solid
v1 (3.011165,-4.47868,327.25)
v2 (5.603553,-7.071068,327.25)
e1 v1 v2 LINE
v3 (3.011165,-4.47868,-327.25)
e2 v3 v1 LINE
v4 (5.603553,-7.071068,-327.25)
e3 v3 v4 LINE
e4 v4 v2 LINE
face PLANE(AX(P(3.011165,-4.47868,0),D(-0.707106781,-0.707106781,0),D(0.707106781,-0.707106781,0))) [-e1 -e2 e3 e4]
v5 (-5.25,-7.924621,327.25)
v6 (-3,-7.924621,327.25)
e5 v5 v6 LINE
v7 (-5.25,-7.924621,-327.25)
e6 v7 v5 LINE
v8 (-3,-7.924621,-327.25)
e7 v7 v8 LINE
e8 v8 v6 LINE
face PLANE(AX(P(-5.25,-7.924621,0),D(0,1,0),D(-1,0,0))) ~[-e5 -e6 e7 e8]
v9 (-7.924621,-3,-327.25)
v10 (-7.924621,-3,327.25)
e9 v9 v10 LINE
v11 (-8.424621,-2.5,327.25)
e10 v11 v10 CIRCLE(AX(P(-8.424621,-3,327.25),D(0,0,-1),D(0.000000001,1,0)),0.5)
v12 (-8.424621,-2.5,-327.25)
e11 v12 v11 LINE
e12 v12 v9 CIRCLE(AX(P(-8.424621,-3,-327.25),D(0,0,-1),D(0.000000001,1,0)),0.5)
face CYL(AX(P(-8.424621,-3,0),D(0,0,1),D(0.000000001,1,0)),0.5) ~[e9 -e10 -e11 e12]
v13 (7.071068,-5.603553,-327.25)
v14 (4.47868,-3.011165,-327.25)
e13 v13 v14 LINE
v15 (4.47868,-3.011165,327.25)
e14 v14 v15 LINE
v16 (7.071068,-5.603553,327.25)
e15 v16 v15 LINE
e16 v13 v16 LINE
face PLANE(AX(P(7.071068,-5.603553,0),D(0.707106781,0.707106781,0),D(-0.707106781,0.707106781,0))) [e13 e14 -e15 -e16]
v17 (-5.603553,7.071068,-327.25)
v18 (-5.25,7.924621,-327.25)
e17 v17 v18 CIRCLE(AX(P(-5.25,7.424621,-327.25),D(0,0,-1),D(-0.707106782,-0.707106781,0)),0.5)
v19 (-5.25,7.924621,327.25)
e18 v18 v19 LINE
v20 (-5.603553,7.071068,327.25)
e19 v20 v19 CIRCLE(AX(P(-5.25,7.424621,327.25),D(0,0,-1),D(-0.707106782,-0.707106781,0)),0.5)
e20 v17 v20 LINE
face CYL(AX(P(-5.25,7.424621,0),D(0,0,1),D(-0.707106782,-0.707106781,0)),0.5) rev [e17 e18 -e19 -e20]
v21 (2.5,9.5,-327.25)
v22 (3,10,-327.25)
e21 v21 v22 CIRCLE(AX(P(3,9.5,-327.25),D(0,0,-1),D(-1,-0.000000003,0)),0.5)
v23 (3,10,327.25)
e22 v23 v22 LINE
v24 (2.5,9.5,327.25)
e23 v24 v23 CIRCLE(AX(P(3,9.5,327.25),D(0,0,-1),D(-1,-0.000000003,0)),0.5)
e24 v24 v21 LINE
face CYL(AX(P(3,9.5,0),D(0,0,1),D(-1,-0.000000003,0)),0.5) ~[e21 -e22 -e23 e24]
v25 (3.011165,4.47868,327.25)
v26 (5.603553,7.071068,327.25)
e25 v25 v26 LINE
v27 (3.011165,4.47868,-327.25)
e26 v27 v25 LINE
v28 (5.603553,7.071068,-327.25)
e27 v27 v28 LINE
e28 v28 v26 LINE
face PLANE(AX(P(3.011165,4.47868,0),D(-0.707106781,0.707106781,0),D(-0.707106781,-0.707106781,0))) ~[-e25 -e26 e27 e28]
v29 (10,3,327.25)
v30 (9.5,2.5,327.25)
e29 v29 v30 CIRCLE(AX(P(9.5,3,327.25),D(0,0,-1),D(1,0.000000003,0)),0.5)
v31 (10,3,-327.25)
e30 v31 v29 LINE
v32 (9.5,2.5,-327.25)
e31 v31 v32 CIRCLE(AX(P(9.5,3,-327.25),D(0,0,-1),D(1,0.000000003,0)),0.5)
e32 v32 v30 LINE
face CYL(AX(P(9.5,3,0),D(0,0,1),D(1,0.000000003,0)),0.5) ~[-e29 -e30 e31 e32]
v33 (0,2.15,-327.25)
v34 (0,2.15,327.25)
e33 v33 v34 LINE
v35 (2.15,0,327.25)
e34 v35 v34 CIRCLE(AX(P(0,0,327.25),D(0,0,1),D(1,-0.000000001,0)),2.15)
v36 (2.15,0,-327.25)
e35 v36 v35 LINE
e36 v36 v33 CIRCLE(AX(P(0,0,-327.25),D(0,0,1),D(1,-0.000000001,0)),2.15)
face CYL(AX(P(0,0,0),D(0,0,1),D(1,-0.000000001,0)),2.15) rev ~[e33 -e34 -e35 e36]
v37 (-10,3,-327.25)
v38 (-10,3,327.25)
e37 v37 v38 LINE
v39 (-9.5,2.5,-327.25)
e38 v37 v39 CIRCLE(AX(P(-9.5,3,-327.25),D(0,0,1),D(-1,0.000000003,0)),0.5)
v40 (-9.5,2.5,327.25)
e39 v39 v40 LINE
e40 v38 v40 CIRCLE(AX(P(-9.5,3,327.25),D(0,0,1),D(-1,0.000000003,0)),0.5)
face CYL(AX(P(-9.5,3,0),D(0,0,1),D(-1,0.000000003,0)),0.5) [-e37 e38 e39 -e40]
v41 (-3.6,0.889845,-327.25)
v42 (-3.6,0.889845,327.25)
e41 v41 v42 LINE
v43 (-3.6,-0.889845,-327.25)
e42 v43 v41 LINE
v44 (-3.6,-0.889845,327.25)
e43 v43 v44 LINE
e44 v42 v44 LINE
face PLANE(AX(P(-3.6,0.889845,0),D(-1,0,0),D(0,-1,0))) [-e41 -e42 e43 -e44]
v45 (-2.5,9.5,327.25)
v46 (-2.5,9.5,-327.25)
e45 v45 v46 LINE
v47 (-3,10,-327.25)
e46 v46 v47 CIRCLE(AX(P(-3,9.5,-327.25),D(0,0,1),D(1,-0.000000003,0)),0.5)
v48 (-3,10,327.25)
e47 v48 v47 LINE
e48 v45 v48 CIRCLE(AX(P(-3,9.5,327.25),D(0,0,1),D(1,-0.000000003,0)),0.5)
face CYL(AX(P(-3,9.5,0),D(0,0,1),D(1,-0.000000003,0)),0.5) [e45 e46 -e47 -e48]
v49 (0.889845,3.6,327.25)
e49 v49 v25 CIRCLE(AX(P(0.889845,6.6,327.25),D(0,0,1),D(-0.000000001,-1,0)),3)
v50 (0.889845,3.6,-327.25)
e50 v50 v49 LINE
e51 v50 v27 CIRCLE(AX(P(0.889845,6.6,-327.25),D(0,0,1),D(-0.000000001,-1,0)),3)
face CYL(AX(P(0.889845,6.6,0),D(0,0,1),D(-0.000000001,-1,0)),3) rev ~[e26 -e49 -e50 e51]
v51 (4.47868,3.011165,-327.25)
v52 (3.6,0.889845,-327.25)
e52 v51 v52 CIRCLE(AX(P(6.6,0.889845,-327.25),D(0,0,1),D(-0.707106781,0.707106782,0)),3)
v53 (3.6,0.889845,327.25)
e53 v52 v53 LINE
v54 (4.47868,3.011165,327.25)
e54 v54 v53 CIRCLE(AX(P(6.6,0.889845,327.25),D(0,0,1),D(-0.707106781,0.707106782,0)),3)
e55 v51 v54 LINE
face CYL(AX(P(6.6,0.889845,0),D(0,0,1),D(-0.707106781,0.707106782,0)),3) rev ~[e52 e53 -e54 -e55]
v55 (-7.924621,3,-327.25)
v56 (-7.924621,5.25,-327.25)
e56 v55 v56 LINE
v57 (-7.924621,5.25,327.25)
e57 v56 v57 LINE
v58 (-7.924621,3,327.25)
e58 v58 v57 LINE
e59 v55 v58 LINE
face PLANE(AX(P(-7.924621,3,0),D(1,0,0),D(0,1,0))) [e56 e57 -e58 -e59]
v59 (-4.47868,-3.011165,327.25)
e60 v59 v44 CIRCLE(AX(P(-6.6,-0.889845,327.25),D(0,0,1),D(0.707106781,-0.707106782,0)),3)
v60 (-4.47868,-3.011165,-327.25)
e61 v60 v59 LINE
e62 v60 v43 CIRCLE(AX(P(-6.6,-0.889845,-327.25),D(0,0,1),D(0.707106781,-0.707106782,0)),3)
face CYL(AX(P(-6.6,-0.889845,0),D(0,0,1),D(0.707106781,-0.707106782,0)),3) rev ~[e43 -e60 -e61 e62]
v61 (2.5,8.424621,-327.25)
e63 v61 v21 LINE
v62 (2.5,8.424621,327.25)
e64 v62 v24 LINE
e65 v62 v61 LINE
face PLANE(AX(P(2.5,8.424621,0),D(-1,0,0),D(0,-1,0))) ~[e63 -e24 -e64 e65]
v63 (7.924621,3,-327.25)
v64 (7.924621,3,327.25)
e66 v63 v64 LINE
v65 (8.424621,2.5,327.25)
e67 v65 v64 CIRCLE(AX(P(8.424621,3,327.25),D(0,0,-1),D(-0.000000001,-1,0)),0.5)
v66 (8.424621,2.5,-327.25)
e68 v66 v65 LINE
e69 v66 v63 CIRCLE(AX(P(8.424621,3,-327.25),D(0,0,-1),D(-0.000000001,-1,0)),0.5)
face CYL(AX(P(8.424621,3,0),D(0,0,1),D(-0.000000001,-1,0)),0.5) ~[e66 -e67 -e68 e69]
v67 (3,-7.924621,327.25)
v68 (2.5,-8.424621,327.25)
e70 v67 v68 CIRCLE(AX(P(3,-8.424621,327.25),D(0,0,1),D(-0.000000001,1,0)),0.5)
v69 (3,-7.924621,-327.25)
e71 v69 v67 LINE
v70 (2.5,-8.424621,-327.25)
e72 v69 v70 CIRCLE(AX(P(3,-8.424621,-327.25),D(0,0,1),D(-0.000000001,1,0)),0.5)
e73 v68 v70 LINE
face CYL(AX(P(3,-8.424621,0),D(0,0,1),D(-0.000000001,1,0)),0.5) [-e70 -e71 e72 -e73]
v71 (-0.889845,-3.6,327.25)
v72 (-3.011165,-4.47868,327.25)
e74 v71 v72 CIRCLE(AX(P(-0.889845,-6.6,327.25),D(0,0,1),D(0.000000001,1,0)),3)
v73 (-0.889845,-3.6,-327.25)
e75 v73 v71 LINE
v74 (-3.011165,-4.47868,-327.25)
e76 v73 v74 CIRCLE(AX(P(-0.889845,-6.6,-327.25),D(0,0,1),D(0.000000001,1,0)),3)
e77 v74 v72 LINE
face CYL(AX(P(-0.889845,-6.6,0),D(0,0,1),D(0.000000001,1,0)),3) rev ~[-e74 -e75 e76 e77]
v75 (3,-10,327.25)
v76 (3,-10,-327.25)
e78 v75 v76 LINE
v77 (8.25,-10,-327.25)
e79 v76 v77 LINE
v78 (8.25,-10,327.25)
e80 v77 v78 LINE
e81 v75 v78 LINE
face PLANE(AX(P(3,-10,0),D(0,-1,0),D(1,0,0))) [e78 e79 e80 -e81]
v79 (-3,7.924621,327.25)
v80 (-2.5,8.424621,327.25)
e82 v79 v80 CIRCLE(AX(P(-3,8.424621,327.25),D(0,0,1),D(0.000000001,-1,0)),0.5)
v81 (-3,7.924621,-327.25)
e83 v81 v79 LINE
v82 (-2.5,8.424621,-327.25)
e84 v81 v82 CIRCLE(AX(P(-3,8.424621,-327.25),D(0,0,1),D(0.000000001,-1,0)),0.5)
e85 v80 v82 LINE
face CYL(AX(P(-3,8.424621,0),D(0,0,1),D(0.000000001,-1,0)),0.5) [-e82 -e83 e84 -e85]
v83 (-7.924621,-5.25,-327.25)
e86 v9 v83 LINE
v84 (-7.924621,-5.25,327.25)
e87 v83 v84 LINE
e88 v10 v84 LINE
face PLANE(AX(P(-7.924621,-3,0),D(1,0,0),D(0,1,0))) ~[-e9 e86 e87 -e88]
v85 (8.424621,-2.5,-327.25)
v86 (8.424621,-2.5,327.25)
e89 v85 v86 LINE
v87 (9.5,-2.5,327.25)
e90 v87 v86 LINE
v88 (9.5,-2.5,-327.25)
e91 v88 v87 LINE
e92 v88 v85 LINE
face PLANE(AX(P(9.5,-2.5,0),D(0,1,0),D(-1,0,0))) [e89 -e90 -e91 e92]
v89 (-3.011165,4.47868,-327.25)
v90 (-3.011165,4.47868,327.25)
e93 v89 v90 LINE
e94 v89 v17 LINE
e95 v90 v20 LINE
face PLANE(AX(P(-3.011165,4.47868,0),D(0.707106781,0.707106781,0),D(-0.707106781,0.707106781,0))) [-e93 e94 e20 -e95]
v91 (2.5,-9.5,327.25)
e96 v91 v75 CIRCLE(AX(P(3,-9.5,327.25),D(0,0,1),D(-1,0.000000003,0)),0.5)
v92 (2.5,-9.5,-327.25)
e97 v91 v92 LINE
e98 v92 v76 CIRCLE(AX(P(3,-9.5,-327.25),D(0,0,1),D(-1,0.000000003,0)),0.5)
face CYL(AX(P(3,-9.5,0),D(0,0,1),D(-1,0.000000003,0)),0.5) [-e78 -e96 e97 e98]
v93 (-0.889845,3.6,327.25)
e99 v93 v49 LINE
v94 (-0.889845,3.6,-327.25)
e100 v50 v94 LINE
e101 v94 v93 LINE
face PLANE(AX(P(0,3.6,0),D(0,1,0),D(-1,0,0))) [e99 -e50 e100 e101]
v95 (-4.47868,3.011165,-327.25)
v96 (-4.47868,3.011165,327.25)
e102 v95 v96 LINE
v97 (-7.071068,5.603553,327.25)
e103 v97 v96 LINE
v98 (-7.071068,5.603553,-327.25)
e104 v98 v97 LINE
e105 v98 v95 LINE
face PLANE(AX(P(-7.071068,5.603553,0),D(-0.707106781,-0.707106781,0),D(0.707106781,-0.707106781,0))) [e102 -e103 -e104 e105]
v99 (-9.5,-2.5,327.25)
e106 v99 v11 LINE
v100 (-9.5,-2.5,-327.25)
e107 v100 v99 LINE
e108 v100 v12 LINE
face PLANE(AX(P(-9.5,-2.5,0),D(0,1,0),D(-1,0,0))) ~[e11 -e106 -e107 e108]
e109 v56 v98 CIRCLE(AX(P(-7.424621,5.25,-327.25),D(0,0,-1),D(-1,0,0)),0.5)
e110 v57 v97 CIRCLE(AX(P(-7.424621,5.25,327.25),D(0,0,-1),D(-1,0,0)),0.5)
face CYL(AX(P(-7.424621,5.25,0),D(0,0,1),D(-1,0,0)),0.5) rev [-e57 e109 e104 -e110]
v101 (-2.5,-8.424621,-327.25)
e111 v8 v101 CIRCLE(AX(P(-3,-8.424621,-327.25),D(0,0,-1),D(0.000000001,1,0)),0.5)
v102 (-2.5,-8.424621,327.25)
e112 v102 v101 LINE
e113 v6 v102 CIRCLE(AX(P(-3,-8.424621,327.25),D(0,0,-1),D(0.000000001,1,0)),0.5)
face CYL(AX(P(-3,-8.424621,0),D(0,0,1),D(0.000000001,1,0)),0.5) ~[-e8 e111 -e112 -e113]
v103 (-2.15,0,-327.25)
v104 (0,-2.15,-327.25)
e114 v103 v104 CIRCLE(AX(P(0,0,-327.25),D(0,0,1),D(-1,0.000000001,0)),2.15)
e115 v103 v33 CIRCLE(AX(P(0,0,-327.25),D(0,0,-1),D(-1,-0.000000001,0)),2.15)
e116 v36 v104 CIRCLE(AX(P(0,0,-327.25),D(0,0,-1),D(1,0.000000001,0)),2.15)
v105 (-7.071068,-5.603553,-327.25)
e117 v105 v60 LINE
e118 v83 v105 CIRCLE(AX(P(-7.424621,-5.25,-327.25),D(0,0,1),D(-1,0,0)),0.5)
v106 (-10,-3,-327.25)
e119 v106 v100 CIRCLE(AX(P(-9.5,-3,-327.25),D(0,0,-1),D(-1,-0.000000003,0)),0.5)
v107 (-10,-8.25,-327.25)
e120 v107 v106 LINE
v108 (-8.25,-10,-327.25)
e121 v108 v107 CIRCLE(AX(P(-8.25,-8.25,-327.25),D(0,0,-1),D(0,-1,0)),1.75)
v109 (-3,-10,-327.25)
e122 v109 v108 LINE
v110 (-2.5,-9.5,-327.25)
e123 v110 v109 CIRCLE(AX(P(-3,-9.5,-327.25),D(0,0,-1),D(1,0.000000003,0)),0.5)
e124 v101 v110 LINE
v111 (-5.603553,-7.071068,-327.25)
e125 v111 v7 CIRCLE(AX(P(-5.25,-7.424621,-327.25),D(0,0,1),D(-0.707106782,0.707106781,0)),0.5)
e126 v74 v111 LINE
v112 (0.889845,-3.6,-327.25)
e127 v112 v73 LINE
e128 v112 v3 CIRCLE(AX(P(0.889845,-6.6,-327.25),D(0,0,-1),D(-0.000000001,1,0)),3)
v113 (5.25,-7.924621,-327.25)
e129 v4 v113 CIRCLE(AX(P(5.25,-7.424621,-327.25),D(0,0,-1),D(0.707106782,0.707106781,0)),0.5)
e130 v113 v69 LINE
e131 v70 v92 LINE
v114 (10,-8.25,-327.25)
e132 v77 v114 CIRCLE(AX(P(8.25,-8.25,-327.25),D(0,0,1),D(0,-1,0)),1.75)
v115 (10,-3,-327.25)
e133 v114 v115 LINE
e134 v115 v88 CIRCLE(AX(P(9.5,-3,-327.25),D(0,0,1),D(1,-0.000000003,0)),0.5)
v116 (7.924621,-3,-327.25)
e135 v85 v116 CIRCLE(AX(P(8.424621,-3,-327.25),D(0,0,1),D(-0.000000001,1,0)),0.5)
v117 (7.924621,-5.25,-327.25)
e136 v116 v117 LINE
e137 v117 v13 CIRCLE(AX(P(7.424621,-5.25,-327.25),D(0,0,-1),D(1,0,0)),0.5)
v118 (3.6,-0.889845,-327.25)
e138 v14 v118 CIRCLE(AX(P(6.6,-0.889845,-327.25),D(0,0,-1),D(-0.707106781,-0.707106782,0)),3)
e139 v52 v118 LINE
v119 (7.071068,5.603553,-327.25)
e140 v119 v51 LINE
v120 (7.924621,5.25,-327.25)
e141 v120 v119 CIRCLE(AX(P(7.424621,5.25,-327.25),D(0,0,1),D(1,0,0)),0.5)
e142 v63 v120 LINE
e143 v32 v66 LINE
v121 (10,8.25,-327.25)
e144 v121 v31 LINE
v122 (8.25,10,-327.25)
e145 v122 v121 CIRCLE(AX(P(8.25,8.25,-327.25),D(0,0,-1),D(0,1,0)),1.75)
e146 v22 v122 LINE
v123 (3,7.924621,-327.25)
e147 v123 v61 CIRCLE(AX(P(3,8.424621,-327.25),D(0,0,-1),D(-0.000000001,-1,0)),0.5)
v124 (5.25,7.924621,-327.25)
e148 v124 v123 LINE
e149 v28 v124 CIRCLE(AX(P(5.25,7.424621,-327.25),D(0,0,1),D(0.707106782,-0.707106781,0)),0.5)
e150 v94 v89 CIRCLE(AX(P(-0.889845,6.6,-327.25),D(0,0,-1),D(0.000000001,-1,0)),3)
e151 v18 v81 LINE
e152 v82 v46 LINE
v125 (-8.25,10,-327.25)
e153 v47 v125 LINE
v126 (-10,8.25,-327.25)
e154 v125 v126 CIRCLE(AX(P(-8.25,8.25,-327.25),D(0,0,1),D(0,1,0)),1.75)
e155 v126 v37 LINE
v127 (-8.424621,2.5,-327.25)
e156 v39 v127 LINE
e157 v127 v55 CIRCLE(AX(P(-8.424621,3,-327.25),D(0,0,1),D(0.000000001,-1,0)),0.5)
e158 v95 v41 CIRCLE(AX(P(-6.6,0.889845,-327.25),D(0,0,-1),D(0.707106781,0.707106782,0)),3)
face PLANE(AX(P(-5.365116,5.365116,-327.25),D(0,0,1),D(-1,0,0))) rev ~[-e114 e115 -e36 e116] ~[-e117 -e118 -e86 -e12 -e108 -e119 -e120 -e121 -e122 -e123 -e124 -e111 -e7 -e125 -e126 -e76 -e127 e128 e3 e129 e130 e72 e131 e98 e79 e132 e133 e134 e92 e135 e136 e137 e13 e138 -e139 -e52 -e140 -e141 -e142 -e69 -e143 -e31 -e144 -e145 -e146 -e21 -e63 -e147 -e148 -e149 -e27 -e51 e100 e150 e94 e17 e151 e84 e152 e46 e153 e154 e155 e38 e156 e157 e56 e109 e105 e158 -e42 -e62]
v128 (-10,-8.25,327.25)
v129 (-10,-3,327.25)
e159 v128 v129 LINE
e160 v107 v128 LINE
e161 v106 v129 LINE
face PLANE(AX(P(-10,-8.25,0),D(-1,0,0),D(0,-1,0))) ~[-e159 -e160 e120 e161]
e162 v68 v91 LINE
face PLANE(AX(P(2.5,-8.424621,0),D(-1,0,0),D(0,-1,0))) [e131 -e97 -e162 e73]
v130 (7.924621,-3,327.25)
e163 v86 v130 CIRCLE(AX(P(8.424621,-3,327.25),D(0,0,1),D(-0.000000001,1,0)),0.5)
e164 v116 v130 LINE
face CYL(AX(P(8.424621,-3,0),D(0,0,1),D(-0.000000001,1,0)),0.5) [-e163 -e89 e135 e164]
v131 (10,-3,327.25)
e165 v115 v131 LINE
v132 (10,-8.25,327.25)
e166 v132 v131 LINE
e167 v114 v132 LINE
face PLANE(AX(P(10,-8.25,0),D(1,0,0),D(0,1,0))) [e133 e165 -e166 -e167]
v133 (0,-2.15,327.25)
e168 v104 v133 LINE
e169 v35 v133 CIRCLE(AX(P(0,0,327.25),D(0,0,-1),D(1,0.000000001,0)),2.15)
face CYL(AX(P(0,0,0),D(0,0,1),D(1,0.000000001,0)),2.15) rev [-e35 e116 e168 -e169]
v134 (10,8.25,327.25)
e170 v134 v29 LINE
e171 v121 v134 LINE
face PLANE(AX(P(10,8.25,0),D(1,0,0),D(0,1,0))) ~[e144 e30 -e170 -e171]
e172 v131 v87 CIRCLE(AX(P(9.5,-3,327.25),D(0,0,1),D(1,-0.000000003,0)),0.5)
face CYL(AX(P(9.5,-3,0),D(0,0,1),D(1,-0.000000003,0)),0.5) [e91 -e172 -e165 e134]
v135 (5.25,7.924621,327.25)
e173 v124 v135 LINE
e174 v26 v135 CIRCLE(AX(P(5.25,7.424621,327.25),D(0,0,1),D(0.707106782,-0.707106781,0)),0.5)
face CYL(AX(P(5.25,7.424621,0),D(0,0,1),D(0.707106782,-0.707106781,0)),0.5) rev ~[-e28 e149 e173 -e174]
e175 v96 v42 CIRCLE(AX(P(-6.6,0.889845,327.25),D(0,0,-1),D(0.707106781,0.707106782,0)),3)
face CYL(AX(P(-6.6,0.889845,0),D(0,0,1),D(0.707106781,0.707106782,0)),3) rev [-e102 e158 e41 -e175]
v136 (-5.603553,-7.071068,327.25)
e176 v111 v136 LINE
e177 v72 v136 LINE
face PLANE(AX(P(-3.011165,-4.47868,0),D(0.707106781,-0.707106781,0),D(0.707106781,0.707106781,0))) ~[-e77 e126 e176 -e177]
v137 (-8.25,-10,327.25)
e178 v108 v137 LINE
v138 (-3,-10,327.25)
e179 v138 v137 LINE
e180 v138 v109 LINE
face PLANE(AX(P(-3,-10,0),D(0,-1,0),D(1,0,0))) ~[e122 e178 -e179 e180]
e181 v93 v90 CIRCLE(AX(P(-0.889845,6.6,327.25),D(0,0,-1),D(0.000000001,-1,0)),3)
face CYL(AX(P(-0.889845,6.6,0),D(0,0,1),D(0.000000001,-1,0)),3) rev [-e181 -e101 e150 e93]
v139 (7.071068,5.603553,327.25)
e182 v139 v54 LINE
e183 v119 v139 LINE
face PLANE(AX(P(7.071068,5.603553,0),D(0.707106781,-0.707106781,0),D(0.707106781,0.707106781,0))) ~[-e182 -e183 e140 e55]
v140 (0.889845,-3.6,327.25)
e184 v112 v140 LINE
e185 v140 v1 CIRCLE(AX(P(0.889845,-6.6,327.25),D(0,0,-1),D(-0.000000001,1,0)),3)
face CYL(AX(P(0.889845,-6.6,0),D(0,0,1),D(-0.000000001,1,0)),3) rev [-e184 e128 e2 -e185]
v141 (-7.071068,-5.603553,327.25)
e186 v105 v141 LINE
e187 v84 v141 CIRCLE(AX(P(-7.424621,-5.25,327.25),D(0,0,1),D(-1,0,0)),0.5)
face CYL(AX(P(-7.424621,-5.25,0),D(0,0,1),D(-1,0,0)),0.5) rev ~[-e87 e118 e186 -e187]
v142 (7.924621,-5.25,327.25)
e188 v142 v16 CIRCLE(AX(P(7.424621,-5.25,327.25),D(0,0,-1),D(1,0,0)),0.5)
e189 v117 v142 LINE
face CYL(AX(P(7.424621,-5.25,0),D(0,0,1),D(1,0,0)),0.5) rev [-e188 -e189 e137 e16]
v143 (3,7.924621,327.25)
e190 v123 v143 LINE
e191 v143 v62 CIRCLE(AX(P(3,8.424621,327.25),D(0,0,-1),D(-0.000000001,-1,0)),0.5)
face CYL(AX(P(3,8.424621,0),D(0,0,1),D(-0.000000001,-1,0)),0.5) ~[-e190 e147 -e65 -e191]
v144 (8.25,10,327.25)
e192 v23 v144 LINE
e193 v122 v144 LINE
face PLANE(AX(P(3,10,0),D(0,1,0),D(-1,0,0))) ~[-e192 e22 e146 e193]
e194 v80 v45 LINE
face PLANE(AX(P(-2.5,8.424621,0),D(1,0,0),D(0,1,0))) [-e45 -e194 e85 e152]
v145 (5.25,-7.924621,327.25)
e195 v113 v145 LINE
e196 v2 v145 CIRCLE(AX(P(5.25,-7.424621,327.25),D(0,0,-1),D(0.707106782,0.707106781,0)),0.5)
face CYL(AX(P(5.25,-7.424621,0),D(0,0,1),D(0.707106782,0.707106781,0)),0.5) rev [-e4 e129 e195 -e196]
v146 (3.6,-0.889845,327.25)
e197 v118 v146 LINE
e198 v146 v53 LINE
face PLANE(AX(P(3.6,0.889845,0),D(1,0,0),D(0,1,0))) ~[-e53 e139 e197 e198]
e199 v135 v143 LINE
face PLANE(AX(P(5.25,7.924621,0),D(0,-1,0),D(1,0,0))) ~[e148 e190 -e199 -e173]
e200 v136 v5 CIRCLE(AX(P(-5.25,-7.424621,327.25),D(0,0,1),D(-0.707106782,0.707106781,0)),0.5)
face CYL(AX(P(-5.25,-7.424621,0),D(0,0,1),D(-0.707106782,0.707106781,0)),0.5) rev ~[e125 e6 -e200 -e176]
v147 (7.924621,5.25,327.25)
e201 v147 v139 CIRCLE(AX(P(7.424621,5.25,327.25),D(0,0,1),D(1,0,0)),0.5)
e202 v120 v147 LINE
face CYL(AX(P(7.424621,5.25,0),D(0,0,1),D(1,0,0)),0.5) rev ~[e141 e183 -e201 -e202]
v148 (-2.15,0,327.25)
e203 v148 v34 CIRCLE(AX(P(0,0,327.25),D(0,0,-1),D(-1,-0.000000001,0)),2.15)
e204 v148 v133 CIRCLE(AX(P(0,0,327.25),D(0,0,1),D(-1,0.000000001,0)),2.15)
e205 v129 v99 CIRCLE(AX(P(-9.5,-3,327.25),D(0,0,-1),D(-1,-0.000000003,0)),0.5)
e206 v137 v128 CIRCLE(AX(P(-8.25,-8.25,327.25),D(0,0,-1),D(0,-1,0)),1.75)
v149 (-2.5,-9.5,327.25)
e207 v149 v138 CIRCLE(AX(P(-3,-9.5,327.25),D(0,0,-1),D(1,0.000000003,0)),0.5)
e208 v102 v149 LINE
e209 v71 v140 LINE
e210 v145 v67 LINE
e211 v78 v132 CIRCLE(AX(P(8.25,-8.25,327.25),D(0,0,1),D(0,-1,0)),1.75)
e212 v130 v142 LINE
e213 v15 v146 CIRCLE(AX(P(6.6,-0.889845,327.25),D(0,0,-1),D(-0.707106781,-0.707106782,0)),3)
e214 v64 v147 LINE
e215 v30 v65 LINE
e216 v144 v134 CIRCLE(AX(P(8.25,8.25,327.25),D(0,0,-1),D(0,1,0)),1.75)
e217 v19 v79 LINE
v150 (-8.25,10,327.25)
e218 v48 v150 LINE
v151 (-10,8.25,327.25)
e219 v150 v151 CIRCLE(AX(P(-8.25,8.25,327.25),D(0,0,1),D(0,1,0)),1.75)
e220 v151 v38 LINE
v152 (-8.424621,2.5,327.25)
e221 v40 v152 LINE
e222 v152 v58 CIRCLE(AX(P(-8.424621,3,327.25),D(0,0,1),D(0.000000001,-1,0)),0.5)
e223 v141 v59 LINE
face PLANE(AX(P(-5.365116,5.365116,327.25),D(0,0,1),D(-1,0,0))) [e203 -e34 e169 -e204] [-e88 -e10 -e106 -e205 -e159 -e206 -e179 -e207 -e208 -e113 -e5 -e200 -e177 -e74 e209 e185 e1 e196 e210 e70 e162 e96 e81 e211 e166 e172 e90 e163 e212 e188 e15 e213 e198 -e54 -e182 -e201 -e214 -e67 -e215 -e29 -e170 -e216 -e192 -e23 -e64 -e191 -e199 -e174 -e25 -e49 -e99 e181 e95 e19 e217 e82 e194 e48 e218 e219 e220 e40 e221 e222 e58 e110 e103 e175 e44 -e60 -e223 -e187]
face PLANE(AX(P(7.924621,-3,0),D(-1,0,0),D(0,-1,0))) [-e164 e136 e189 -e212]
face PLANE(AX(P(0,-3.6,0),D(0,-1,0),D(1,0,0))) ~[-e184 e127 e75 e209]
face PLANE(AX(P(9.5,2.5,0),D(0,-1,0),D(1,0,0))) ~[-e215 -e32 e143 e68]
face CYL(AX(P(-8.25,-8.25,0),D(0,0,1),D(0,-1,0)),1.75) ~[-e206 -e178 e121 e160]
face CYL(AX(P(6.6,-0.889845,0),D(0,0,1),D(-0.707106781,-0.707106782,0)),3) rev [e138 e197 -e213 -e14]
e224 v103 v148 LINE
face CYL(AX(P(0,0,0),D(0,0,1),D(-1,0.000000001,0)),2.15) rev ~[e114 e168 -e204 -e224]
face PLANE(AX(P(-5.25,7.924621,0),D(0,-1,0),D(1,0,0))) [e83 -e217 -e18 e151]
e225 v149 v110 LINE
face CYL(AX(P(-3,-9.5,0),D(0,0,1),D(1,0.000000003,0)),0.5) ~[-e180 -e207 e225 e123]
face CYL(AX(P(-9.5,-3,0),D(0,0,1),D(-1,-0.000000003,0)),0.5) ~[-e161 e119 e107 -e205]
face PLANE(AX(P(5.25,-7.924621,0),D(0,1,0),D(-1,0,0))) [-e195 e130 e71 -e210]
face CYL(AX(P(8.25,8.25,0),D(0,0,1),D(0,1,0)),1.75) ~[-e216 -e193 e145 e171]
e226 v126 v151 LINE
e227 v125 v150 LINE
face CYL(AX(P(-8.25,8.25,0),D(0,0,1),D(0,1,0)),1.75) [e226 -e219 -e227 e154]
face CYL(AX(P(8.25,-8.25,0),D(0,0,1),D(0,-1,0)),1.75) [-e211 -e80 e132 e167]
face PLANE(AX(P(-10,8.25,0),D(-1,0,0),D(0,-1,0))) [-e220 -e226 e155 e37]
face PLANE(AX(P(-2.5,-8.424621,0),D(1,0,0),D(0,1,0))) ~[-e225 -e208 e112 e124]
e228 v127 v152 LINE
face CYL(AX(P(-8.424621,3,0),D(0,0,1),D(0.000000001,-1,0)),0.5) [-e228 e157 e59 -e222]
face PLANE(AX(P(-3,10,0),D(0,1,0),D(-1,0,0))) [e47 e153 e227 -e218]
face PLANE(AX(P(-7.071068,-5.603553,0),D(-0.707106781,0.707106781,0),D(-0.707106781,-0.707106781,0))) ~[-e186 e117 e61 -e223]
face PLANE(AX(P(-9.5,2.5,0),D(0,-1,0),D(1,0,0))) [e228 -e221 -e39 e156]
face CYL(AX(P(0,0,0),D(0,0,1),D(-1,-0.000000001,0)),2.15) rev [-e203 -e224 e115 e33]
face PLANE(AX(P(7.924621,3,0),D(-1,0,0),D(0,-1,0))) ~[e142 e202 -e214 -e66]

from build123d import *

# Parameters (mm, degrees)
BOSS_EXTRUDE1_DEPTH = 327.25


with BuildPart() as part:
    # Sketch4 → Boss-Extrude1 (new body, symmetric)
    with BuildSketch(Plane.XY):
        with BuildLine():
            Line((3, -10), (8.25, -10))
            ThreePointArc((8.25, -10), (9.487436867, -9.487436867), (10, -8.25))
            Line((10, -8.25), (10, -3))
            ThreePointArc((10, -3), (9.853553391, -2.646446609), (9.5, -2.5))
            Line((9.5, -2.5), (8.424621202, -2.5))
            ThreePointArc((8.424621202, -2.5), (8.071067812, -2.646446609), (7.924621202, -3))
            Line((7.924621202, -3), (7.924621202, -5.25))
            ThreePointArc((7.924621202, -5.25), (7.615962919, -5.711939766), (7.071067812, -5.603553391))
            Line((7.071067812, -5.603553391), (4.478679656, -3.011165235))
            ThreePointArc((4.478679656, -3.011165235), (3.828361402, -2.037895189), (3.6, -0.889844892))
            Line((3.6, -0.889844892), (3.6, 0))
            Line((3.6, 0), (2.15, 0))
            ThreePointArc((2.15, 0), (1.52027958, -1.52027958), (0, -2.15))
            Line((0, -2.15), (0, -3.6))
            Line((0, -3.6), (0.889844892, -3.6))
            ThreePointArc((0.889844892, -3.6), (2.037895189, -3.828361402), (3.011165235, -4.478679656))
            Line((3.011165235, -4.478679656), (5.603553391, -7.071067812))
            ThreePointArc((5.603553391, -7.071067812), (5.711939766, -7.615962919), (5.25, -7.924621202))
            Line((5.25, -7.924621202), (3, -7.924621202))
            ThreePointArc((3, -7.924621202), (2.646446609, -8.071067812), (2.5, -8.424621202))
            Line((2.5, -8.424621202), (2.5, -9.5))
            ThreePointArc((2.5, -9.5), (2.646446609, -9.853553391), (3, -10))
        make_face()
    extrude(amount=BOSS_EXTRUDE1_DEPTH, both=True)

    # Mirror1: part across plane


with BuildPart() as part_1:
    add(part.part)
    add(part.part.mirror(Plane(origin=(0, 0, 0), x_dir=(0, 0, 1), z_dir=(1, 0, 0))))

    # Mirror2: part across plane


with BuildPart() as part_2:
    add(part_1.part)
    add(part_1.part.mirror(Plane.ZX))


solid = part_2.part
